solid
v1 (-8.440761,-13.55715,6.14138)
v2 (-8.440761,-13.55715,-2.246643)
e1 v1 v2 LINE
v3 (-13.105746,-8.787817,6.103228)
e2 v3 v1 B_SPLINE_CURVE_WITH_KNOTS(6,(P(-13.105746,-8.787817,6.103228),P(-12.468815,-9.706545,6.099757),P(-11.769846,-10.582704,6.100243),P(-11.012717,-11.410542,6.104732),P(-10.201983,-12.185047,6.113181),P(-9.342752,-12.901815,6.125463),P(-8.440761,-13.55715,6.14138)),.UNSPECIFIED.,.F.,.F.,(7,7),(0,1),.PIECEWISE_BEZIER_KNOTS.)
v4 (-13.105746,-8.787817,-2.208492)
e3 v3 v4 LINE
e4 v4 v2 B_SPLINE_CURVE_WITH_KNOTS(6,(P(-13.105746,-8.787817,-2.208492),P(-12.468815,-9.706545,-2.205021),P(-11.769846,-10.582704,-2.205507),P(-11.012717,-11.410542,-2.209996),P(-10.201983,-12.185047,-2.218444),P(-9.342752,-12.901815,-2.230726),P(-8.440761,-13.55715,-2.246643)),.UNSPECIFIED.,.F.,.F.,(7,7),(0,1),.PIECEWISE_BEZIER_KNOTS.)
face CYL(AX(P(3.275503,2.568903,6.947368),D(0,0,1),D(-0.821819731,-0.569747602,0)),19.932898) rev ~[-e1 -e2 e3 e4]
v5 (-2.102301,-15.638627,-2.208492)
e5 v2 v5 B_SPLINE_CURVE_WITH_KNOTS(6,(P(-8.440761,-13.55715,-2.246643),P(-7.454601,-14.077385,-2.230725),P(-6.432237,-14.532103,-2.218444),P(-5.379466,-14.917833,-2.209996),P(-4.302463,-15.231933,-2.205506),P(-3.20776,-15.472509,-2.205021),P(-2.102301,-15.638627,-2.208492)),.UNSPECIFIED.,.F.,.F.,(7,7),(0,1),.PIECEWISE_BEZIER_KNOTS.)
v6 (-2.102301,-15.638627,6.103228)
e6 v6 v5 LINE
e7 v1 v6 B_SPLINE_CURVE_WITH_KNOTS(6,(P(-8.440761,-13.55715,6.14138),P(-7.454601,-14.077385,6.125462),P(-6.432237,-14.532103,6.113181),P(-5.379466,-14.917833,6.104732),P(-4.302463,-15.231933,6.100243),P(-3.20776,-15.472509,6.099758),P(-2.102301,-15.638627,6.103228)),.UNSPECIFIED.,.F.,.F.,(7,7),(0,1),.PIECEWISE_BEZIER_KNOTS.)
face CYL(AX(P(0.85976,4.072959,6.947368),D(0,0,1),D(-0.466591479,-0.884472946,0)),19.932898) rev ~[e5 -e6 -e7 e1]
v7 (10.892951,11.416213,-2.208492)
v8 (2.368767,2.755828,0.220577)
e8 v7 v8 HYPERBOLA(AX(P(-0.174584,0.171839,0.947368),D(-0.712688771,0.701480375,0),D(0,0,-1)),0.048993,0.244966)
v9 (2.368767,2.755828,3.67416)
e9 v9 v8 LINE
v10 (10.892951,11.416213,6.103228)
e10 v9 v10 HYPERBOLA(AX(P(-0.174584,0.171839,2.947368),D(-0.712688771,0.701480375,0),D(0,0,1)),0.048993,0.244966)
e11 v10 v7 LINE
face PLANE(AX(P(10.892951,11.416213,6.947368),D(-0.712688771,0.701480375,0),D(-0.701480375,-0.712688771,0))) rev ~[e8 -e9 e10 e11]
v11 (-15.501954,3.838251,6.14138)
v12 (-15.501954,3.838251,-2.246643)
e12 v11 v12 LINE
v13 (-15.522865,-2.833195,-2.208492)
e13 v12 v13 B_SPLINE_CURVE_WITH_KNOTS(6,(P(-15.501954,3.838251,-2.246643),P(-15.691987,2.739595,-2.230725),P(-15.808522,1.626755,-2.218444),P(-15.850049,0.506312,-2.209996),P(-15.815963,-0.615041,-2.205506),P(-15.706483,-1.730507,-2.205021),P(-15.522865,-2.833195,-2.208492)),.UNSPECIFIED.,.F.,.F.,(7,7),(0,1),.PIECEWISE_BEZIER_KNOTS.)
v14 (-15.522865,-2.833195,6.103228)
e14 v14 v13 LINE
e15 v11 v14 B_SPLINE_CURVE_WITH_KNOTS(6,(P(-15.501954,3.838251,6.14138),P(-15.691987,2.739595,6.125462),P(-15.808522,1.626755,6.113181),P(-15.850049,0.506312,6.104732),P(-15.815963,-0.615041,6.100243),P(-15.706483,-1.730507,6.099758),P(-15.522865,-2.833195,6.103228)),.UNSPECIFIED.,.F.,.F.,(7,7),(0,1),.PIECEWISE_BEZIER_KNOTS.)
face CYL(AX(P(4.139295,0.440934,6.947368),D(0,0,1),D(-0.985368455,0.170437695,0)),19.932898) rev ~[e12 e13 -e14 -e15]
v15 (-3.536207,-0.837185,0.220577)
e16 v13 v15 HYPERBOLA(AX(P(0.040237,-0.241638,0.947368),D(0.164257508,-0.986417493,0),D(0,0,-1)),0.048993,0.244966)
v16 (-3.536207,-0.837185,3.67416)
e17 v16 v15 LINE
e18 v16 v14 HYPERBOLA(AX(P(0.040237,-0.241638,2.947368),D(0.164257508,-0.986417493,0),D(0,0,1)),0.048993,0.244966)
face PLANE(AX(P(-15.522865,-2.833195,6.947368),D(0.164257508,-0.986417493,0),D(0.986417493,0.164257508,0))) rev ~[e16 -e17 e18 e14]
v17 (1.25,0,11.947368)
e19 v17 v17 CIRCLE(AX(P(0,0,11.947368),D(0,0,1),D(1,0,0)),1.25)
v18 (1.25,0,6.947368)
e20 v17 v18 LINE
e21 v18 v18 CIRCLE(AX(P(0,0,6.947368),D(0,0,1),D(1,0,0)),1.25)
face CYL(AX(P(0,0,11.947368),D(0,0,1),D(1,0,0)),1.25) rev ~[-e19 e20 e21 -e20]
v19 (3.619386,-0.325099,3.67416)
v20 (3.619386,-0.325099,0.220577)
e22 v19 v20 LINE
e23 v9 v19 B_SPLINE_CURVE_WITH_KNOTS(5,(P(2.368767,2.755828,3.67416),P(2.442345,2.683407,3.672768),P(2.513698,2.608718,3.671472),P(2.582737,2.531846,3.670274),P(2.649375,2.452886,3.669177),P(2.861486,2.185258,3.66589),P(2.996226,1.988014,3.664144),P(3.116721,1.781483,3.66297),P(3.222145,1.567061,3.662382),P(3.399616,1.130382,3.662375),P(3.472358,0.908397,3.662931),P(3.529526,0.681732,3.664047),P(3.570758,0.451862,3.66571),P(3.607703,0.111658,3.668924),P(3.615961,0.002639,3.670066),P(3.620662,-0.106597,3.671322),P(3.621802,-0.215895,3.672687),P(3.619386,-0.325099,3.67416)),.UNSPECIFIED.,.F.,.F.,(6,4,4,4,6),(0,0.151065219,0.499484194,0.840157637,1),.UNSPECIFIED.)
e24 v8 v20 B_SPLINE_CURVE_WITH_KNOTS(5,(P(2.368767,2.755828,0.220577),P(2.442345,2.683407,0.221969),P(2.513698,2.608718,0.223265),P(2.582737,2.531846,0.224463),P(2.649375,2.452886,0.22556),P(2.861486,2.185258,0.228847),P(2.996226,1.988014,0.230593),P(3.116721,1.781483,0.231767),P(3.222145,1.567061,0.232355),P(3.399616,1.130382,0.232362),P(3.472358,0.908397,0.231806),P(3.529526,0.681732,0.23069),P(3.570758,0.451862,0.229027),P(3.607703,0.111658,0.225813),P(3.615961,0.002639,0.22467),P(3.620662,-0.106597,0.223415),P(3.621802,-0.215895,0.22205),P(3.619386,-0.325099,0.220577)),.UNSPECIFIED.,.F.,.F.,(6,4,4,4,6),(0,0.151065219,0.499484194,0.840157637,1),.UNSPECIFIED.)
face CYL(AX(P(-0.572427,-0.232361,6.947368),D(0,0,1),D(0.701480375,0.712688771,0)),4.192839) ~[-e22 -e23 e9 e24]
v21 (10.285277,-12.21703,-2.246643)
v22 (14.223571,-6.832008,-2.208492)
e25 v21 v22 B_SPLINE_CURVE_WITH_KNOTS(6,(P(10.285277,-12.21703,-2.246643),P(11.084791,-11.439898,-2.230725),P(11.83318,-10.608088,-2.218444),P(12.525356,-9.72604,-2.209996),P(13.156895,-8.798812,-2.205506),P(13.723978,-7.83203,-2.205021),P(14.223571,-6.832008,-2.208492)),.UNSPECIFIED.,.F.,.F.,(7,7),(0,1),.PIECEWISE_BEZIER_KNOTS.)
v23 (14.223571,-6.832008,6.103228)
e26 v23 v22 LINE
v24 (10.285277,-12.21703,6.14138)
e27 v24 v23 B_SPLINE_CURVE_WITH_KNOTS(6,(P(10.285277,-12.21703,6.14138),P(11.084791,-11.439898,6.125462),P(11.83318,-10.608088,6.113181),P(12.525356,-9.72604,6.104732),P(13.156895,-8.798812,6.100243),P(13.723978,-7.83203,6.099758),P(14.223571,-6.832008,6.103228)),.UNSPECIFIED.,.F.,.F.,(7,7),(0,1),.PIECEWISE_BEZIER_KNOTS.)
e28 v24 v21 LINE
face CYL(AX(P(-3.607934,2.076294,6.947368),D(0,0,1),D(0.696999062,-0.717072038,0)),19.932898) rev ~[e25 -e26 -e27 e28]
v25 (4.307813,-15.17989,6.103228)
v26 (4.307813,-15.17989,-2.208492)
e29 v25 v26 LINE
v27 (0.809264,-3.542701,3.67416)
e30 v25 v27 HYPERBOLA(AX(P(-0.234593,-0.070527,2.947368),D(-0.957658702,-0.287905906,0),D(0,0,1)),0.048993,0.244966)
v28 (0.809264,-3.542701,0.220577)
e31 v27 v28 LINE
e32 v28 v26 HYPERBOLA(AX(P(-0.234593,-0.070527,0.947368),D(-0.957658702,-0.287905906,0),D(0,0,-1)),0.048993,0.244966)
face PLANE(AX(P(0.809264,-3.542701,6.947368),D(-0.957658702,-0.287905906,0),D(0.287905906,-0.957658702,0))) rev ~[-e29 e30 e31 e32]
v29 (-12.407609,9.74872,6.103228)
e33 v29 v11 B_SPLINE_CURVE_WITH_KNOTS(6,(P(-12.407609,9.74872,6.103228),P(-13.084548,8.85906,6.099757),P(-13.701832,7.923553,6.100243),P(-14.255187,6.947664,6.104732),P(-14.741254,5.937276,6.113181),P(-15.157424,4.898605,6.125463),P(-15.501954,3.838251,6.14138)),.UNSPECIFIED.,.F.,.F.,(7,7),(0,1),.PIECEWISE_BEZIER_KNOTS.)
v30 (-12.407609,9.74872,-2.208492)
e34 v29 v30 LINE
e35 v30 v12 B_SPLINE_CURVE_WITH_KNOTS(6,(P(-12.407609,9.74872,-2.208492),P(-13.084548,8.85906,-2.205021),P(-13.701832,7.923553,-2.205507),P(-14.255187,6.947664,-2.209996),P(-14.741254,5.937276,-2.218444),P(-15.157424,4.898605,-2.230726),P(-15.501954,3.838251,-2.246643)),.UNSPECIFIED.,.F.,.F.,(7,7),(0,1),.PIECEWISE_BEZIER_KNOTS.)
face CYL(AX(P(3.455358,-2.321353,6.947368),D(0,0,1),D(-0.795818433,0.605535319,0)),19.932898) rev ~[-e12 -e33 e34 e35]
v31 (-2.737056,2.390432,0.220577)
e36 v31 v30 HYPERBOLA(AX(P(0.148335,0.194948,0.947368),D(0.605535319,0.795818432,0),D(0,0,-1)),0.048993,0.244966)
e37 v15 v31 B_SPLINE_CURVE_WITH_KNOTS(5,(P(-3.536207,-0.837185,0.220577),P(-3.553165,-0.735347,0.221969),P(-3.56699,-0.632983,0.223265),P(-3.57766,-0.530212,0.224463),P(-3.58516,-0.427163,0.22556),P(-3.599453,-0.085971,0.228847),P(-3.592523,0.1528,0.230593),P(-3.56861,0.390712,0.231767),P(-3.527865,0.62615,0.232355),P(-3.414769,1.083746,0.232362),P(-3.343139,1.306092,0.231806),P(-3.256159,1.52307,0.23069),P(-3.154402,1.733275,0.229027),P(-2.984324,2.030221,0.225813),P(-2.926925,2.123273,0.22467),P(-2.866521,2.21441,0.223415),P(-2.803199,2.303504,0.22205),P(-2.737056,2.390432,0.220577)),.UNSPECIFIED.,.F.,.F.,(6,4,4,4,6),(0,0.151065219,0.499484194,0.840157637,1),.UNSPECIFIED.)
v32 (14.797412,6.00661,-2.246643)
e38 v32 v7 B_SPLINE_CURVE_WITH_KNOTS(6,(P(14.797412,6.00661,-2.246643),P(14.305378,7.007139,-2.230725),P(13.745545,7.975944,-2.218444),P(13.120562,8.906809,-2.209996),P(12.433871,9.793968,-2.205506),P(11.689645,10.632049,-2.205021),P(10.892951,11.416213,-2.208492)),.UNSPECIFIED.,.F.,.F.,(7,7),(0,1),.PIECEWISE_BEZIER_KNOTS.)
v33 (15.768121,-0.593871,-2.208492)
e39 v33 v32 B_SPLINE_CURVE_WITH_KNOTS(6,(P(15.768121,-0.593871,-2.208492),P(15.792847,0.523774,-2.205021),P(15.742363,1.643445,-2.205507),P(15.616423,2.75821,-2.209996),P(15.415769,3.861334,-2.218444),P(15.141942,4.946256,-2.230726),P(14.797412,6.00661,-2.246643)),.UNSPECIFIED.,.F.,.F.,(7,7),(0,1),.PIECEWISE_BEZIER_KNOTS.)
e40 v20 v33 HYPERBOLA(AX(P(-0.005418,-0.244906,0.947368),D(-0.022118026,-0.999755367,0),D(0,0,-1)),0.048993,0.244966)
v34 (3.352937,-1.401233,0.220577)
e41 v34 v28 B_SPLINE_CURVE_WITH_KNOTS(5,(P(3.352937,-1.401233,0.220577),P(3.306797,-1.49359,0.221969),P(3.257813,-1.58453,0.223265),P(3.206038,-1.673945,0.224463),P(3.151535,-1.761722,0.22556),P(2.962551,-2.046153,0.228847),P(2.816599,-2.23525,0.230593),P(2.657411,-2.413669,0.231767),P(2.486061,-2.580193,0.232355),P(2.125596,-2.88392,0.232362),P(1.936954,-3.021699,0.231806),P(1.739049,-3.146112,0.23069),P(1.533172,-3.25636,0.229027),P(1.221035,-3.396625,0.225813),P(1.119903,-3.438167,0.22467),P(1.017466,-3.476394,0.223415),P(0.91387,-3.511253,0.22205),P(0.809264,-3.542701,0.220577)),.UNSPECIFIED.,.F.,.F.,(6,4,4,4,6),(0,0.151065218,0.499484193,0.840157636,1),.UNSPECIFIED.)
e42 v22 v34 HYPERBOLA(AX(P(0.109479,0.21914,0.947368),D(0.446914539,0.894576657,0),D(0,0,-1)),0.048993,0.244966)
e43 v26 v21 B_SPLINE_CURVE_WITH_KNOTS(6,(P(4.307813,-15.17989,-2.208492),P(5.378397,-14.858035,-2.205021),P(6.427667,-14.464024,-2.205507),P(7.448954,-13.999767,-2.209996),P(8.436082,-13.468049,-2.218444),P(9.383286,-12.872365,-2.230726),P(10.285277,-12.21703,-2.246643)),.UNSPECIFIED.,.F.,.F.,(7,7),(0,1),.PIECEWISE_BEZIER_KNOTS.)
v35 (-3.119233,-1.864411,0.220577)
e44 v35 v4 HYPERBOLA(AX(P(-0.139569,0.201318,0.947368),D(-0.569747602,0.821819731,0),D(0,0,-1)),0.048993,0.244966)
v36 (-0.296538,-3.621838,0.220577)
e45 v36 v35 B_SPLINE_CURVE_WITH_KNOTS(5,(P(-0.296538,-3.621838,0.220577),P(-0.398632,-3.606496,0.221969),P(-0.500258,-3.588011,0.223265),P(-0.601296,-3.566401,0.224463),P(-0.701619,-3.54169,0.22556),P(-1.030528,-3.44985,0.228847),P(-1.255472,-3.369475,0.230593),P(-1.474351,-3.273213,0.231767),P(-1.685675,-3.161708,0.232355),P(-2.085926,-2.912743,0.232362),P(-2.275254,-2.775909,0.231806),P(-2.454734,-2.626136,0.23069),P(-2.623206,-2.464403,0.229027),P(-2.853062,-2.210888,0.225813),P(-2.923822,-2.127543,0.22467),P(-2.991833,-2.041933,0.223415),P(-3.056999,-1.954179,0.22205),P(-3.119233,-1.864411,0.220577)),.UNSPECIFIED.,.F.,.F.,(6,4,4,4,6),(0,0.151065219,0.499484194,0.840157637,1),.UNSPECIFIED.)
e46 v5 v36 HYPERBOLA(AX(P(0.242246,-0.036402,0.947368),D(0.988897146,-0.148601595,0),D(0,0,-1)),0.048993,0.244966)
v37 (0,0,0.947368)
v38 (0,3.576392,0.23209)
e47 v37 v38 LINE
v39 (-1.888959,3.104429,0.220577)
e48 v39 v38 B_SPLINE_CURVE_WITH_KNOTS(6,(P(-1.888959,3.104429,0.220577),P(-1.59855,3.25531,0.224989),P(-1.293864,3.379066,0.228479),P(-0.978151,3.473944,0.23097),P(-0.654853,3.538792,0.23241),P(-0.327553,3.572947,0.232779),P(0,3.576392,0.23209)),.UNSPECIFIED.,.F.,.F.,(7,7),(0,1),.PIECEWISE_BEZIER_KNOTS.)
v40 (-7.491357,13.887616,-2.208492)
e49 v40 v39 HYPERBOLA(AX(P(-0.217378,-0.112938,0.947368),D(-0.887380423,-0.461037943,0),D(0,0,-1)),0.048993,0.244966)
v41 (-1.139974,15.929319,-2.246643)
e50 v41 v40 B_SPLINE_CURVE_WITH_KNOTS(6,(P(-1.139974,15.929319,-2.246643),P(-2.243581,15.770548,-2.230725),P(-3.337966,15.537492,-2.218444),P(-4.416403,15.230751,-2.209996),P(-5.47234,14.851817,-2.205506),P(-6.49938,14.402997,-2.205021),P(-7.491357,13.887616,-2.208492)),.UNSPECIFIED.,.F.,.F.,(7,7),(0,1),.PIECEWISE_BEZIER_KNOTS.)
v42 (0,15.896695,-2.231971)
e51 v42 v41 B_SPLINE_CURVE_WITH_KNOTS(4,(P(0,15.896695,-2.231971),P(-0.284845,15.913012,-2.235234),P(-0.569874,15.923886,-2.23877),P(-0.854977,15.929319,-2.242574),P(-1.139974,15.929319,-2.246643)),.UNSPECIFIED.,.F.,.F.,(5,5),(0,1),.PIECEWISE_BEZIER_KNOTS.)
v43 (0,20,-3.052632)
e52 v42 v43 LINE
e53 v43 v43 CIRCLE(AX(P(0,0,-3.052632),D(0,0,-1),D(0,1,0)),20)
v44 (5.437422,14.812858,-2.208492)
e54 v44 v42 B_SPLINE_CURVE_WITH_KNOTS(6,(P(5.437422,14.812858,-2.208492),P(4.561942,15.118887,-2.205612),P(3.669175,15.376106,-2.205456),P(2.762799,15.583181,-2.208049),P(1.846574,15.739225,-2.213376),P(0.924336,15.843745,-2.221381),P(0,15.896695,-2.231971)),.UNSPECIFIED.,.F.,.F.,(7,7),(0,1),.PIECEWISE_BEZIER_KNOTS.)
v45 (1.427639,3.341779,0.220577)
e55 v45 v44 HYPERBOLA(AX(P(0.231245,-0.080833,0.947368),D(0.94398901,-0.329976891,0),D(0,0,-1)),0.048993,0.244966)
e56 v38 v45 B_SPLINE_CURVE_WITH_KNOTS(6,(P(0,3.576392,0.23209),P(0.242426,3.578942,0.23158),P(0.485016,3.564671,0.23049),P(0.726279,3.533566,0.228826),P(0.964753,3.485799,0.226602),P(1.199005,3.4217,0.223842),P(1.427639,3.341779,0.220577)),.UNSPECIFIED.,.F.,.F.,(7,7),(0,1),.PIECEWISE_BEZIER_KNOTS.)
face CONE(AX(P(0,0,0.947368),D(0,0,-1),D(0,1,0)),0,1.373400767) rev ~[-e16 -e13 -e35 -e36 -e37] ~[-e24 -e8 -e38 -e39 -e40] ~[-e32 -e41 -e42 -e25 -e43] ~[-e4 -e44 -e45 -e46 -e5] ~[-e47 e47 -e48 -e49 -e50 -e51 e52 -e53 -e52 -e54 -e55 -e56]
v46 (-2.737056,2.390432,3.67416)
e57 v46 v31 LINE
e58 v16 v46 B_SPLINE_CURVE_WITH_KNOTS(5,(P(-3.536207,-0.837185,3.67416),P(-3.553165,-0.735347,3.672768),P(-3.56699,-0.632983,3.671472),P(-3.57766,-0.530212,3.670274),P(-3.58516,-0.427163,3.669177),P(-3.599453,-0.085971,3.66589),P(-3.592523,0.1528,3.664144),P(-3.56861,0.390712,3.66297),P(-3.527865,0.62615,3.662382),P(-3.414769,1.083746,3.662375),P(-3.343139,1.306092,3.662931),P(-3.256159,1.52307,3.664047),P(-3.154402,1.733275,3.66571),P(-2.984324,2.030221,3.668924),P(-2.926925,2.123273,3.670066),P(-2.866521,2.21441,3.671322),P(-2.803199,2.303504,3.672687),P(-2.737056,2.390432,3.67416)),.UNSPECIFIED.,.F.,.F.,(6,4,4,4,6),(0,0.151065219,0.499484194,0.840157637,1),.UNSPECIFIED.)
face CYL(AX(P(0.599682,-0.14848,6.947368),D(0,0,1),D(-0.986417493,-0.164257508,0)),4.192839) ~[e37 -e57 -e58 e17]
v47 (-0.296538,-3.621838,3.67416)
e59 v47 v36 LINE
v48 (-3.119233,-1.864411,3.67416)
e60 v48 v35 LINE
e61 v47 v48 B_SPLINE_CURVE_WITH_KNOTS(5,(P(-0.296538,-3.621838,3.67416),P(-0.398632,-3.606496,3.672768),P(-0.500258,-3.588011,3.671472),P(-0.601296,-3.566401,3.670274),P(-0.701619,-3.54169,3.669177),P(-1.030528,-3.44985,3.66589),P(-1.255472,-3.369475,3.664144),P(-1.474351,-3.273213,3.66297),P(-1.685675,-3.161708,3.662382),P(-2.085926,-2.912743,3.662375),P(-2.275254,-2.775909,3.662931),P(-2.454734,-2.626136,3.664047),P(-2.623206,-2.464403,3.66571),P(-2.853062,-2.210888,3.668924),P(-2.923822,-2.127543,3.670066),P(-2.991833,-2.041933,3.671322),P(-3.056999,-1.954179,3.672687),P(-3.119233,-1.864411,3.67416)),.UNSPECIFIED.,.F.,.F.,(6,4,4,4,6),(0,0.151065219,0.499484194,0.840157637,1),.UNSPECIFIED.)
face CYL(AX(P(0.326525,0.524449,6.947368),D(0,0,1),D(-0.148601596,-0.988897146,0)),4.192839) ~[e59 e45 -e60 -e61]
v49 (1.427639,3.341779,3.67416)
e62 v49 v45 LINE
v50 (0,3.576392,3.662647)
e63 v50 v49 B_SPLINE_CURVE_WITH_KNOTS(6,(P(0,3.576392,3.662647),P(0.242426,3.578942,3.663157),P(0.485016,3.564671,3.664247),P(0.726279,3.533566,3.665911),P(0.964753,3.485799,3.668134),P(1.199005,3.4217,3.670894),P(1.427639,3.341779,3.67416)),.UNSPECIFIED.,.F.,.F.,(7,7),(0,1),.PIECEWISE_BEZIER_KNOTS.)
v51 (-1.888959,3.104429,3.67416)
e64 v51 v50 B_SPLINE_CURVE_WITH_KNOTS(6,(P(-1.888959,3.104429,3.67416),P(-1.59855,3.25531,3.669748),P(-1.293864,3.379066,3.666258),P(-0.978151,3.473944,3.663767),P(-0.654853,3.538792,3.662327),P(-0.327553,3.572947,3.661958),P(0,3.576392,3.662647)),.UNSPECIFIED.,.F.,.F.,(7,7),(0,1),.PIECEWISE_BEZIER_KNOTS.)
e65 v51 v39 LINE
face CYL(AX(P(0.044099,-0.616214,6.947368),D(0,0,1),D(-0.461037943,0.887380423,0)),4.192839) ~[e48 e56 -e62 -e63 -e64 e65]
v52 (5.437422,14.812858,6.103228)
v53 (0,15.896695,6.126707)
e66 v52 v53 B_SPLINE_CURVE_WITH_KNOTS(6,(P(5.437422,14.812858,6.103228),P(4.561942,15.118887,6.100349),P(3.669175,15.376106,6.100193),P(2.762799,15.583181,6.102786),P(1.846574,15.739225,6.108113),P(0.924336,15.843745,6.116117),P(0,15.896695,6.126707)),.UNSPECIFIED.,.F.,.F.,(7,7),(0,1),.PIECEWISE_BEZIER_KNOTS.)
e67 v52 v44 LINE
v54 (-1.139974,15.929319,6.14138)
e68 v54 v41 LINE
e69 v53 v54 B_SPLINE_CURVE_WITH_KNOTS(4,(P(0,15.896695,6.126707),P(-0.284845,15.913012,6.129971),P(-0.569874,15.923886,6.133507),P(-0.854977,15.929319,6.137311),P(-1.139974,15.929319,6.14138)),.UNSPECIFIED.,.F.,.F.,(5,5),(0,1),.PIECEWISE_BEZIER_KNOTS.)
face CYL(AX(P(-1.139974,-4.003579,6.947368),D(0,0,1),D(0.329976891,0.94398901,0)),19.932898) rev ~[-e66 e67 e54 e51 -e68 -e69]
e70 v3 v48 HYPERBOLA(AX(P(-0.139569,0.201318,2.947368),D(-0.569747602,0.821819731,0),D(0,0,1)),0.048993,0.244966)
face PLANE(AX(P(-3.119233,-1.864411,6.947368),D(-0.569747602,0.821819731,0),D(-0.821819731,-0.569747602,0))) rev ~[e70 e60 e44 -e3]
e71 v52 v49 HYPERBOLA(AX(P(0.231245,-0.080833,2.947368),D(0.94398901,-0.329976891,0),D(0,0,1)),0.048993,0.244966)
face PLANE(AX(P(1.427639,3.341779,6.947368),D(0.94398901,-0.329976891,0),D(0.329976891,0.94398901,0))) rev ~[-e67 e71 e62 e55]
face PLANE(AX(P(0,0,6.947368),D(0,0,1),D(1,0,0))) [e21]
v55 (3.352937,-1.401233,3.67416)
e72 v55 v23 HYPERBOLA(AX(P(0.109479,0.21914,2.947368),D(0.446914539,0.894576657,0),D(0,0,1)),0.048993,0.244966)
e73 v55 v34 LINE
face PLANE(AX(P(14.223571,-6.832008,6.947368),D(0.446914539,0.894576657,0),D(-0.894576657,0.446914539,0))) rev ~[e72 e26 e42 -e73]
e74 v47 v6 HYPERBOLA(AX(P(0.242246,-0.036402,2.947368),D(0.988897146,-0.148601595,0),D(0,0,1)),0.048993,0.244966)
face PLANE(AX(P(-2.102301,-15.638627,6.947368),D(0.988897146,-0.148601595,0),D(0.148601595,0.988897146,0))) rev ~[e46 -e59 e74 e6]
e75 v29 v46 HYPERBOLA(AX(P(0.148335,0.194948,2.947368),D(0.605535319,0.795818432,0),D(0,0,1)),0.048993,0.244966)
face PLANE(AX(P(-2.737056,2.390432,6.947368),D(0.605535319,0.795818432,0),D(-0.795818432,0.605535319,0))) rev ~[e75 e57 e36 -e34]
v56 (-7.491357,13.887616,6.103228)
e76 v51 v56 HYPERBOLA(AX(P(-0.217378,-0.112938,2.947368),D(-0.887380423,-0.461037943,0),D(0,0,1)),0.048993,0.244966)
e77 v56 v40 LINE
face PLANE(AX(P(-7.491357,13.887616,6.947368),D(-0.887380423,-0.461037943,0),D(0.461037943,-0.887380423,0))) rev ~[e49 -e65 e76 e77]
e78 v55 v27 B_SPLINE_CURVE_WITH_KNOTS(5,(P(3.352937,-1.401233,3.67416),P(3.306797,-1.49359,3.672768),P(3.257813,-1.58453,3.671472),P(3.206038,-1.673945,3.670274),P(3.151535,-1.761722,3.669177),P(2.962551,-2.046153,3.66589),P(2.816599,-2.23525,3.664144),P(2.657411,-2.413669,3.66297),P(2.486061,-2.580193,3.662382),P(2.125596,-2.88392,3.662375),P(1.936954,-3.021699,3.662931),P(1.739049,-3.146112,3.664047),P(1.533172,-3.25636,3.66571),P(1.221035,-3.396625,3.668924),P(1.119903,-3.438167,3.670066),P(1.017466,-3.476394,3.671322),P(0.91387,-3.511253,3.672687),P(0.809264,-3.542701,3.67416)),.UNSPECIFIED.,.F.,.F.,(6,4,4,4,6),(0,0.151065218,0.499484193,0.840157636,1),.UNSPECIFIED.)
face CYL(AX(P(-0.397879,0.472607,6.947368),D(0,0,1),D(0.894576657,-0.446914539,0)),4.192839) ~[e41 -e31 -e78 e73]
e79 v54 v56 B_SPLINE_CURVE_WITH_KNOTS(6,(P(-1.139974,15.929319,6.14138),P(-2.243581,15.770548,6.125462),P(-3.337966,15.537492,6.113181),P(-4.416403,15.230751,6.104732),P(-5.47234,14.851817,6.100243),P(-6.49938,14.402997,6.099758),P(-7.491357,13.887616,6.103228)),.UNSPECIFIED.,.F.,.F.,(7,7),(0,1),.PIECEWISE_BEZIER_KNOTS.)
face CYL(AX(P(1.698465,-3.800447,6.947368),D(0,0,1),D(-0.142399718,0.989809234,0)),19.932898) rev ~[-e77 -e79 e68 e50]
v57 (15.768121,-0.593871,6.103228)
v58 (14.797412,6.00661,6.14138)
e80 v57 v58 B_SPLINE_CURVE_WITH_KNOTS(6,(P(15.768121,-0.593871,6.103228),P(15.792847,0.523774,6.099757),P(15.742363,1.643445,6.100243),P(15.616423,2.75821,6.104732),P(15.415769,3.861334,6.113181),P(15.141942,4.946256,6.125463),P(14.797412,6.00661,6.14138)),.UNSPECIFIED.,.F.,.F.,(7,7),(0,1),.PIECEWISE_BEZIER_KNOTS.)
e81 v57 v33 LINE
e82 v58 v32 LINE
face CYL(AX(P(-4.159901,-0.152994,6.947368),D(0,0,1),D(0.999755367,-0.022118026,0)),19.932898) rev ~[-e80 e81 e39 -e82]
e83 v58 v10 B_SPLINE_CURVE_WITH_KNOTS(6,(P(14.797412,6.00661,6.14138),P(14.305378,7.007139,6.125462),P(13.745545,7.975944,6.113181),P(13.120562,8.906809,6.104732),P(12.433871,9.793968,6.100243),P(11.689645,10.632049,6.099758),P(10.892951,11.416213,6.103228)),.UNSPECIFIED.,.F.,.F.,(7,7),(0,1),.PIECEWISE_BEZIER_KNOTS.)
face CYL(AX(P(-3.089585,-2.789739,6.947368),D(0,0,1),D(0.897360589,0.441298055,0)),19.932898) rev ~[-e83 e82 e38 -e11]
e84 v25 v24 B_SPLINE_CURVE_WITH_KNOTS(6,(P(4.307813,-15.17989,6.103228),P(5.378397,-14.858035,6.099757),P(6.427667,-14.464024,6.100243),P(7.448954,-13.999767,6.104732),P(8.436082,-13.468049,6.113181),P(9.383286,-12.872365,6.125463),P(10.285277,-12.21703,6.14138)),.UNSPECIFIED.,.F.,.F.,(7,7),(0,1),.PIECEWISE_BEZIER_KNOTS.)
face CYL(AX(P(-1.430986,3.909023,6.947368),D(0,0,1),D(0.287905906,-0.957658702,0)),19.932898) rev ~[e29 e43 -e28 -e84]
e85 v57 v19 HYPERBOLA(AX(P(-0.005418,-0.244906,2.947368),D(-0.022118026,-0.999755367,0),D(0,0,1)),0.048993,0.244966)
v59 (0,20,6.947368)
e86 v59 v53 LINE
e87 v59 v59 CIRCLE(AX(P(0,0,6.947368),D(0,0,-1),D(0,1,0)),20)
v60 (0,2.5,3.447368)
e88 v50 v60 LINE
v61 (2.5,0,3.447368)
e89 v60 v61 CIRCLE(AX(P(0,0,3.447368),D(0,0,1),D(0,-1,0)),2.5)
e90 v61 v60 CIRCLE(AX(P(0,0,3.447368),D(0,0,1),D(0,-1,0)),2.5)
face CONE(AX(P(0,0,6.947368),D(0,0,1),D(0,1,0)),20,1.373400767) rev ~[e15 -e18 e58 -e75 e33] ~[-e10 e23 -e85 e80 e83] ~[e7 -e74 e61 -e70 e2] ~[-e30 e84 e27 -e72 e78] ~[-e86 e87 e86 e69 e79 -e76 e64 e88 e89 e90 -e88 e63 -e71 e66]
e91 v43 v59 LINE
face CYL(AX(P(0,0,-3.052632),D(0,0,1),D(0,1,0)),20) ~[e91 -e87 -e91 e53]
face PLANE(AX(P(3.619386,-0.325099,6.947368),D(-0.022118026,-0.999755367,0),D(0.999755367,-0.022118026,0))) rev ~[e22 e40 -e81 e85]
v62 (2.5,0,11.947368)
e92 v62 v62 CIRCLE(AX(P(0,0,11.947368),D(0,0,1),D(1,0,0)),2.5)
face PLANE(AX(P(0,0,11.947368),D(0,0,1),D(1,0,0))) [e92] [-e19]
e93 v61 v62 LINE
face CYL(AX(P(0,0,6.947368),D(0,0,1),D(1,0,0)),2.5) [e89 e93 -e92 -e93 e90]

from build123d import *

# Parameters (mm, degrees)
CUT_EXTRUDE1_DEPTH       = 11
SKETCH4_R                = 2.5
BOSS_EXTRUDE1_DEPTH      = 5
BOSS_EXTRUDE1_DEPTH_BACK = 5
SKETCH5_R                = 1.25
CUT_EXTRUDE2_DEPTH       = 5


with BuildPart() as part:
    # Sketch2 → Revolve2 (revolve)
    with BuildSketch(Plane(origin=(0, 0, 0), x_dir=(0, 0, -1), z_dir=(1, 0, 0))):
        Polygon((-0.947368421, 0), (3.052631579, 20), (-6.947368421, 20), (-2.947368421, 0), align=None)
    revolve(axis=Axis((0, 0, 1.947368421), (0, 0, -1)))

    # Sketch3 → Cut-Extrude1 (cut, through all)
    with BuildSketch(Plane.XY.offset(6.947368421)):
        with BuildLine():
            Line((1.427639009, 3.341779315), (5.437421768, 14.812857935))
            ThreePointArc((5.437421768, 14.812857935), (2.195765142, 15.648221894), (-1.139973889, 15.929319272))
            ThreePointArc((-1.139973889, 15.929319272), (-4.401690999, 15.176078194), (-7.49135707, 13.887616244))
            Line((-7.49135707, 13.887616244), (-1.888958706, 3.104428633))
            ThreePointArc((-1.888958706, 3.104428633), (-0.255193929, 3.565928667), (1.427639009, 3.341779315))
        make_face()
        with BuildLine():
            Line((3.619385709, -0.325098782), (15.768120796, -0.593870567))
            ThreePointArc((15.768120796, -0.593870567), (15.560872146, 2.74726975), (14.797411589, 6.00660996))
            ThreePointArc((14.797411589, 6.00660996), (13.073110736, 8.875922977), (10.892951279, 11.416213388))
            Line((10.892951279, 11.416213388), (2.368766739, 2.755827692))
            ThreePointArc((2.368766739, 2.755827692), (3.312540434, 1.344636408), (3.619385709, -0.325098782))
        make_face()
        with BuildLine():
            Line((0.809264378, -3.542701412), (4.307812822, -15.17989013))
            ThreePointArc((4.307812822, -15.17989013), (7.421382738, -13.950315812), (10.285277197, -12.217030159))
            ThreePointArc((10.285277197, -12.217030159), (12.481317772, -9.690456113), (14.223571198, -6.832008347))
            Line((14.223571198, -6.832008347), (3.352937062, -1.401233452))
            ThreePointArc((3.352937062, -1.401233452), (2.302456507, -2.734897664), (0.809264378, -3.542701412))
        make_face()
        with BuildLine():
            Line((-3.119232818, -1.864411103), (-13.105746054, -8.787817479))
            ThreePointArc((-13.105746054, -8.787817479), (-10.97420537, -11.369039076), (-8.440760697, -13.55714984))
            ThreePointArc((-8.440760697, -13.55714984), (-5.359232128, -14.864954222), (-2.102300837, -15.638626758))
            Line((-2.102300837, -15.638626758), (-0.296537672, -3.621837592))
            ThreePointArc((-0.296537672, -3.621837592), (-1.889544056, -3.03489612), (-3.119232818, -1.864411103))
        make_face()
        with BuildLine():
            Line((-2.737056278, 2.390431982), (-12.407609332, 9.748720242))
            ThreePointArc((-12.407609332, 9.748720242), (-14.203814656, 6.923863244), (-15.501954199, 3.838250768))
            ThreePointArc((-15.501954199, 3.838250768), (-15.793505381, 0.503409163), (-15.52286457, -2.833194526))
            Line((-15.52286457, -2.833194526), (-3.536207423, -0.837185281))
            ThreePointArc((-3.536207423, -0.837185281), (-3.470258956, 0.85922871), (-2.737056278, 2.390431982))
        make_face()
    extrude(amount=-CUT_EXTRUDE1_DEPTH, mode=Mode.SUBTRACT)

    # Sketch4 → Boss-Extrude1 (add, two sides)
    with BuildSketch(Plane.XY.offset(6.947368421)) as boss_extrude1_sk:
        Circle(SKETCH4_R)
    extrude(amount=BOSS_EXTRUDE1_DEPTH)
    extrude(boss_extrude1_sk.sketch, amount=-BOSS_EXTRUDE1_DEPTH_BACK)

    # Sketch5 → Cut-Extrude2 (cut)
    with BuildSketch(Plane.XY.offset(11.947368421)):
        Circle(SKETCH5_R)
    extrude(amount=-CUT_EXTRUDE2_DEPTH, mode=Mode.SUBTRACT)


solid = part.part
